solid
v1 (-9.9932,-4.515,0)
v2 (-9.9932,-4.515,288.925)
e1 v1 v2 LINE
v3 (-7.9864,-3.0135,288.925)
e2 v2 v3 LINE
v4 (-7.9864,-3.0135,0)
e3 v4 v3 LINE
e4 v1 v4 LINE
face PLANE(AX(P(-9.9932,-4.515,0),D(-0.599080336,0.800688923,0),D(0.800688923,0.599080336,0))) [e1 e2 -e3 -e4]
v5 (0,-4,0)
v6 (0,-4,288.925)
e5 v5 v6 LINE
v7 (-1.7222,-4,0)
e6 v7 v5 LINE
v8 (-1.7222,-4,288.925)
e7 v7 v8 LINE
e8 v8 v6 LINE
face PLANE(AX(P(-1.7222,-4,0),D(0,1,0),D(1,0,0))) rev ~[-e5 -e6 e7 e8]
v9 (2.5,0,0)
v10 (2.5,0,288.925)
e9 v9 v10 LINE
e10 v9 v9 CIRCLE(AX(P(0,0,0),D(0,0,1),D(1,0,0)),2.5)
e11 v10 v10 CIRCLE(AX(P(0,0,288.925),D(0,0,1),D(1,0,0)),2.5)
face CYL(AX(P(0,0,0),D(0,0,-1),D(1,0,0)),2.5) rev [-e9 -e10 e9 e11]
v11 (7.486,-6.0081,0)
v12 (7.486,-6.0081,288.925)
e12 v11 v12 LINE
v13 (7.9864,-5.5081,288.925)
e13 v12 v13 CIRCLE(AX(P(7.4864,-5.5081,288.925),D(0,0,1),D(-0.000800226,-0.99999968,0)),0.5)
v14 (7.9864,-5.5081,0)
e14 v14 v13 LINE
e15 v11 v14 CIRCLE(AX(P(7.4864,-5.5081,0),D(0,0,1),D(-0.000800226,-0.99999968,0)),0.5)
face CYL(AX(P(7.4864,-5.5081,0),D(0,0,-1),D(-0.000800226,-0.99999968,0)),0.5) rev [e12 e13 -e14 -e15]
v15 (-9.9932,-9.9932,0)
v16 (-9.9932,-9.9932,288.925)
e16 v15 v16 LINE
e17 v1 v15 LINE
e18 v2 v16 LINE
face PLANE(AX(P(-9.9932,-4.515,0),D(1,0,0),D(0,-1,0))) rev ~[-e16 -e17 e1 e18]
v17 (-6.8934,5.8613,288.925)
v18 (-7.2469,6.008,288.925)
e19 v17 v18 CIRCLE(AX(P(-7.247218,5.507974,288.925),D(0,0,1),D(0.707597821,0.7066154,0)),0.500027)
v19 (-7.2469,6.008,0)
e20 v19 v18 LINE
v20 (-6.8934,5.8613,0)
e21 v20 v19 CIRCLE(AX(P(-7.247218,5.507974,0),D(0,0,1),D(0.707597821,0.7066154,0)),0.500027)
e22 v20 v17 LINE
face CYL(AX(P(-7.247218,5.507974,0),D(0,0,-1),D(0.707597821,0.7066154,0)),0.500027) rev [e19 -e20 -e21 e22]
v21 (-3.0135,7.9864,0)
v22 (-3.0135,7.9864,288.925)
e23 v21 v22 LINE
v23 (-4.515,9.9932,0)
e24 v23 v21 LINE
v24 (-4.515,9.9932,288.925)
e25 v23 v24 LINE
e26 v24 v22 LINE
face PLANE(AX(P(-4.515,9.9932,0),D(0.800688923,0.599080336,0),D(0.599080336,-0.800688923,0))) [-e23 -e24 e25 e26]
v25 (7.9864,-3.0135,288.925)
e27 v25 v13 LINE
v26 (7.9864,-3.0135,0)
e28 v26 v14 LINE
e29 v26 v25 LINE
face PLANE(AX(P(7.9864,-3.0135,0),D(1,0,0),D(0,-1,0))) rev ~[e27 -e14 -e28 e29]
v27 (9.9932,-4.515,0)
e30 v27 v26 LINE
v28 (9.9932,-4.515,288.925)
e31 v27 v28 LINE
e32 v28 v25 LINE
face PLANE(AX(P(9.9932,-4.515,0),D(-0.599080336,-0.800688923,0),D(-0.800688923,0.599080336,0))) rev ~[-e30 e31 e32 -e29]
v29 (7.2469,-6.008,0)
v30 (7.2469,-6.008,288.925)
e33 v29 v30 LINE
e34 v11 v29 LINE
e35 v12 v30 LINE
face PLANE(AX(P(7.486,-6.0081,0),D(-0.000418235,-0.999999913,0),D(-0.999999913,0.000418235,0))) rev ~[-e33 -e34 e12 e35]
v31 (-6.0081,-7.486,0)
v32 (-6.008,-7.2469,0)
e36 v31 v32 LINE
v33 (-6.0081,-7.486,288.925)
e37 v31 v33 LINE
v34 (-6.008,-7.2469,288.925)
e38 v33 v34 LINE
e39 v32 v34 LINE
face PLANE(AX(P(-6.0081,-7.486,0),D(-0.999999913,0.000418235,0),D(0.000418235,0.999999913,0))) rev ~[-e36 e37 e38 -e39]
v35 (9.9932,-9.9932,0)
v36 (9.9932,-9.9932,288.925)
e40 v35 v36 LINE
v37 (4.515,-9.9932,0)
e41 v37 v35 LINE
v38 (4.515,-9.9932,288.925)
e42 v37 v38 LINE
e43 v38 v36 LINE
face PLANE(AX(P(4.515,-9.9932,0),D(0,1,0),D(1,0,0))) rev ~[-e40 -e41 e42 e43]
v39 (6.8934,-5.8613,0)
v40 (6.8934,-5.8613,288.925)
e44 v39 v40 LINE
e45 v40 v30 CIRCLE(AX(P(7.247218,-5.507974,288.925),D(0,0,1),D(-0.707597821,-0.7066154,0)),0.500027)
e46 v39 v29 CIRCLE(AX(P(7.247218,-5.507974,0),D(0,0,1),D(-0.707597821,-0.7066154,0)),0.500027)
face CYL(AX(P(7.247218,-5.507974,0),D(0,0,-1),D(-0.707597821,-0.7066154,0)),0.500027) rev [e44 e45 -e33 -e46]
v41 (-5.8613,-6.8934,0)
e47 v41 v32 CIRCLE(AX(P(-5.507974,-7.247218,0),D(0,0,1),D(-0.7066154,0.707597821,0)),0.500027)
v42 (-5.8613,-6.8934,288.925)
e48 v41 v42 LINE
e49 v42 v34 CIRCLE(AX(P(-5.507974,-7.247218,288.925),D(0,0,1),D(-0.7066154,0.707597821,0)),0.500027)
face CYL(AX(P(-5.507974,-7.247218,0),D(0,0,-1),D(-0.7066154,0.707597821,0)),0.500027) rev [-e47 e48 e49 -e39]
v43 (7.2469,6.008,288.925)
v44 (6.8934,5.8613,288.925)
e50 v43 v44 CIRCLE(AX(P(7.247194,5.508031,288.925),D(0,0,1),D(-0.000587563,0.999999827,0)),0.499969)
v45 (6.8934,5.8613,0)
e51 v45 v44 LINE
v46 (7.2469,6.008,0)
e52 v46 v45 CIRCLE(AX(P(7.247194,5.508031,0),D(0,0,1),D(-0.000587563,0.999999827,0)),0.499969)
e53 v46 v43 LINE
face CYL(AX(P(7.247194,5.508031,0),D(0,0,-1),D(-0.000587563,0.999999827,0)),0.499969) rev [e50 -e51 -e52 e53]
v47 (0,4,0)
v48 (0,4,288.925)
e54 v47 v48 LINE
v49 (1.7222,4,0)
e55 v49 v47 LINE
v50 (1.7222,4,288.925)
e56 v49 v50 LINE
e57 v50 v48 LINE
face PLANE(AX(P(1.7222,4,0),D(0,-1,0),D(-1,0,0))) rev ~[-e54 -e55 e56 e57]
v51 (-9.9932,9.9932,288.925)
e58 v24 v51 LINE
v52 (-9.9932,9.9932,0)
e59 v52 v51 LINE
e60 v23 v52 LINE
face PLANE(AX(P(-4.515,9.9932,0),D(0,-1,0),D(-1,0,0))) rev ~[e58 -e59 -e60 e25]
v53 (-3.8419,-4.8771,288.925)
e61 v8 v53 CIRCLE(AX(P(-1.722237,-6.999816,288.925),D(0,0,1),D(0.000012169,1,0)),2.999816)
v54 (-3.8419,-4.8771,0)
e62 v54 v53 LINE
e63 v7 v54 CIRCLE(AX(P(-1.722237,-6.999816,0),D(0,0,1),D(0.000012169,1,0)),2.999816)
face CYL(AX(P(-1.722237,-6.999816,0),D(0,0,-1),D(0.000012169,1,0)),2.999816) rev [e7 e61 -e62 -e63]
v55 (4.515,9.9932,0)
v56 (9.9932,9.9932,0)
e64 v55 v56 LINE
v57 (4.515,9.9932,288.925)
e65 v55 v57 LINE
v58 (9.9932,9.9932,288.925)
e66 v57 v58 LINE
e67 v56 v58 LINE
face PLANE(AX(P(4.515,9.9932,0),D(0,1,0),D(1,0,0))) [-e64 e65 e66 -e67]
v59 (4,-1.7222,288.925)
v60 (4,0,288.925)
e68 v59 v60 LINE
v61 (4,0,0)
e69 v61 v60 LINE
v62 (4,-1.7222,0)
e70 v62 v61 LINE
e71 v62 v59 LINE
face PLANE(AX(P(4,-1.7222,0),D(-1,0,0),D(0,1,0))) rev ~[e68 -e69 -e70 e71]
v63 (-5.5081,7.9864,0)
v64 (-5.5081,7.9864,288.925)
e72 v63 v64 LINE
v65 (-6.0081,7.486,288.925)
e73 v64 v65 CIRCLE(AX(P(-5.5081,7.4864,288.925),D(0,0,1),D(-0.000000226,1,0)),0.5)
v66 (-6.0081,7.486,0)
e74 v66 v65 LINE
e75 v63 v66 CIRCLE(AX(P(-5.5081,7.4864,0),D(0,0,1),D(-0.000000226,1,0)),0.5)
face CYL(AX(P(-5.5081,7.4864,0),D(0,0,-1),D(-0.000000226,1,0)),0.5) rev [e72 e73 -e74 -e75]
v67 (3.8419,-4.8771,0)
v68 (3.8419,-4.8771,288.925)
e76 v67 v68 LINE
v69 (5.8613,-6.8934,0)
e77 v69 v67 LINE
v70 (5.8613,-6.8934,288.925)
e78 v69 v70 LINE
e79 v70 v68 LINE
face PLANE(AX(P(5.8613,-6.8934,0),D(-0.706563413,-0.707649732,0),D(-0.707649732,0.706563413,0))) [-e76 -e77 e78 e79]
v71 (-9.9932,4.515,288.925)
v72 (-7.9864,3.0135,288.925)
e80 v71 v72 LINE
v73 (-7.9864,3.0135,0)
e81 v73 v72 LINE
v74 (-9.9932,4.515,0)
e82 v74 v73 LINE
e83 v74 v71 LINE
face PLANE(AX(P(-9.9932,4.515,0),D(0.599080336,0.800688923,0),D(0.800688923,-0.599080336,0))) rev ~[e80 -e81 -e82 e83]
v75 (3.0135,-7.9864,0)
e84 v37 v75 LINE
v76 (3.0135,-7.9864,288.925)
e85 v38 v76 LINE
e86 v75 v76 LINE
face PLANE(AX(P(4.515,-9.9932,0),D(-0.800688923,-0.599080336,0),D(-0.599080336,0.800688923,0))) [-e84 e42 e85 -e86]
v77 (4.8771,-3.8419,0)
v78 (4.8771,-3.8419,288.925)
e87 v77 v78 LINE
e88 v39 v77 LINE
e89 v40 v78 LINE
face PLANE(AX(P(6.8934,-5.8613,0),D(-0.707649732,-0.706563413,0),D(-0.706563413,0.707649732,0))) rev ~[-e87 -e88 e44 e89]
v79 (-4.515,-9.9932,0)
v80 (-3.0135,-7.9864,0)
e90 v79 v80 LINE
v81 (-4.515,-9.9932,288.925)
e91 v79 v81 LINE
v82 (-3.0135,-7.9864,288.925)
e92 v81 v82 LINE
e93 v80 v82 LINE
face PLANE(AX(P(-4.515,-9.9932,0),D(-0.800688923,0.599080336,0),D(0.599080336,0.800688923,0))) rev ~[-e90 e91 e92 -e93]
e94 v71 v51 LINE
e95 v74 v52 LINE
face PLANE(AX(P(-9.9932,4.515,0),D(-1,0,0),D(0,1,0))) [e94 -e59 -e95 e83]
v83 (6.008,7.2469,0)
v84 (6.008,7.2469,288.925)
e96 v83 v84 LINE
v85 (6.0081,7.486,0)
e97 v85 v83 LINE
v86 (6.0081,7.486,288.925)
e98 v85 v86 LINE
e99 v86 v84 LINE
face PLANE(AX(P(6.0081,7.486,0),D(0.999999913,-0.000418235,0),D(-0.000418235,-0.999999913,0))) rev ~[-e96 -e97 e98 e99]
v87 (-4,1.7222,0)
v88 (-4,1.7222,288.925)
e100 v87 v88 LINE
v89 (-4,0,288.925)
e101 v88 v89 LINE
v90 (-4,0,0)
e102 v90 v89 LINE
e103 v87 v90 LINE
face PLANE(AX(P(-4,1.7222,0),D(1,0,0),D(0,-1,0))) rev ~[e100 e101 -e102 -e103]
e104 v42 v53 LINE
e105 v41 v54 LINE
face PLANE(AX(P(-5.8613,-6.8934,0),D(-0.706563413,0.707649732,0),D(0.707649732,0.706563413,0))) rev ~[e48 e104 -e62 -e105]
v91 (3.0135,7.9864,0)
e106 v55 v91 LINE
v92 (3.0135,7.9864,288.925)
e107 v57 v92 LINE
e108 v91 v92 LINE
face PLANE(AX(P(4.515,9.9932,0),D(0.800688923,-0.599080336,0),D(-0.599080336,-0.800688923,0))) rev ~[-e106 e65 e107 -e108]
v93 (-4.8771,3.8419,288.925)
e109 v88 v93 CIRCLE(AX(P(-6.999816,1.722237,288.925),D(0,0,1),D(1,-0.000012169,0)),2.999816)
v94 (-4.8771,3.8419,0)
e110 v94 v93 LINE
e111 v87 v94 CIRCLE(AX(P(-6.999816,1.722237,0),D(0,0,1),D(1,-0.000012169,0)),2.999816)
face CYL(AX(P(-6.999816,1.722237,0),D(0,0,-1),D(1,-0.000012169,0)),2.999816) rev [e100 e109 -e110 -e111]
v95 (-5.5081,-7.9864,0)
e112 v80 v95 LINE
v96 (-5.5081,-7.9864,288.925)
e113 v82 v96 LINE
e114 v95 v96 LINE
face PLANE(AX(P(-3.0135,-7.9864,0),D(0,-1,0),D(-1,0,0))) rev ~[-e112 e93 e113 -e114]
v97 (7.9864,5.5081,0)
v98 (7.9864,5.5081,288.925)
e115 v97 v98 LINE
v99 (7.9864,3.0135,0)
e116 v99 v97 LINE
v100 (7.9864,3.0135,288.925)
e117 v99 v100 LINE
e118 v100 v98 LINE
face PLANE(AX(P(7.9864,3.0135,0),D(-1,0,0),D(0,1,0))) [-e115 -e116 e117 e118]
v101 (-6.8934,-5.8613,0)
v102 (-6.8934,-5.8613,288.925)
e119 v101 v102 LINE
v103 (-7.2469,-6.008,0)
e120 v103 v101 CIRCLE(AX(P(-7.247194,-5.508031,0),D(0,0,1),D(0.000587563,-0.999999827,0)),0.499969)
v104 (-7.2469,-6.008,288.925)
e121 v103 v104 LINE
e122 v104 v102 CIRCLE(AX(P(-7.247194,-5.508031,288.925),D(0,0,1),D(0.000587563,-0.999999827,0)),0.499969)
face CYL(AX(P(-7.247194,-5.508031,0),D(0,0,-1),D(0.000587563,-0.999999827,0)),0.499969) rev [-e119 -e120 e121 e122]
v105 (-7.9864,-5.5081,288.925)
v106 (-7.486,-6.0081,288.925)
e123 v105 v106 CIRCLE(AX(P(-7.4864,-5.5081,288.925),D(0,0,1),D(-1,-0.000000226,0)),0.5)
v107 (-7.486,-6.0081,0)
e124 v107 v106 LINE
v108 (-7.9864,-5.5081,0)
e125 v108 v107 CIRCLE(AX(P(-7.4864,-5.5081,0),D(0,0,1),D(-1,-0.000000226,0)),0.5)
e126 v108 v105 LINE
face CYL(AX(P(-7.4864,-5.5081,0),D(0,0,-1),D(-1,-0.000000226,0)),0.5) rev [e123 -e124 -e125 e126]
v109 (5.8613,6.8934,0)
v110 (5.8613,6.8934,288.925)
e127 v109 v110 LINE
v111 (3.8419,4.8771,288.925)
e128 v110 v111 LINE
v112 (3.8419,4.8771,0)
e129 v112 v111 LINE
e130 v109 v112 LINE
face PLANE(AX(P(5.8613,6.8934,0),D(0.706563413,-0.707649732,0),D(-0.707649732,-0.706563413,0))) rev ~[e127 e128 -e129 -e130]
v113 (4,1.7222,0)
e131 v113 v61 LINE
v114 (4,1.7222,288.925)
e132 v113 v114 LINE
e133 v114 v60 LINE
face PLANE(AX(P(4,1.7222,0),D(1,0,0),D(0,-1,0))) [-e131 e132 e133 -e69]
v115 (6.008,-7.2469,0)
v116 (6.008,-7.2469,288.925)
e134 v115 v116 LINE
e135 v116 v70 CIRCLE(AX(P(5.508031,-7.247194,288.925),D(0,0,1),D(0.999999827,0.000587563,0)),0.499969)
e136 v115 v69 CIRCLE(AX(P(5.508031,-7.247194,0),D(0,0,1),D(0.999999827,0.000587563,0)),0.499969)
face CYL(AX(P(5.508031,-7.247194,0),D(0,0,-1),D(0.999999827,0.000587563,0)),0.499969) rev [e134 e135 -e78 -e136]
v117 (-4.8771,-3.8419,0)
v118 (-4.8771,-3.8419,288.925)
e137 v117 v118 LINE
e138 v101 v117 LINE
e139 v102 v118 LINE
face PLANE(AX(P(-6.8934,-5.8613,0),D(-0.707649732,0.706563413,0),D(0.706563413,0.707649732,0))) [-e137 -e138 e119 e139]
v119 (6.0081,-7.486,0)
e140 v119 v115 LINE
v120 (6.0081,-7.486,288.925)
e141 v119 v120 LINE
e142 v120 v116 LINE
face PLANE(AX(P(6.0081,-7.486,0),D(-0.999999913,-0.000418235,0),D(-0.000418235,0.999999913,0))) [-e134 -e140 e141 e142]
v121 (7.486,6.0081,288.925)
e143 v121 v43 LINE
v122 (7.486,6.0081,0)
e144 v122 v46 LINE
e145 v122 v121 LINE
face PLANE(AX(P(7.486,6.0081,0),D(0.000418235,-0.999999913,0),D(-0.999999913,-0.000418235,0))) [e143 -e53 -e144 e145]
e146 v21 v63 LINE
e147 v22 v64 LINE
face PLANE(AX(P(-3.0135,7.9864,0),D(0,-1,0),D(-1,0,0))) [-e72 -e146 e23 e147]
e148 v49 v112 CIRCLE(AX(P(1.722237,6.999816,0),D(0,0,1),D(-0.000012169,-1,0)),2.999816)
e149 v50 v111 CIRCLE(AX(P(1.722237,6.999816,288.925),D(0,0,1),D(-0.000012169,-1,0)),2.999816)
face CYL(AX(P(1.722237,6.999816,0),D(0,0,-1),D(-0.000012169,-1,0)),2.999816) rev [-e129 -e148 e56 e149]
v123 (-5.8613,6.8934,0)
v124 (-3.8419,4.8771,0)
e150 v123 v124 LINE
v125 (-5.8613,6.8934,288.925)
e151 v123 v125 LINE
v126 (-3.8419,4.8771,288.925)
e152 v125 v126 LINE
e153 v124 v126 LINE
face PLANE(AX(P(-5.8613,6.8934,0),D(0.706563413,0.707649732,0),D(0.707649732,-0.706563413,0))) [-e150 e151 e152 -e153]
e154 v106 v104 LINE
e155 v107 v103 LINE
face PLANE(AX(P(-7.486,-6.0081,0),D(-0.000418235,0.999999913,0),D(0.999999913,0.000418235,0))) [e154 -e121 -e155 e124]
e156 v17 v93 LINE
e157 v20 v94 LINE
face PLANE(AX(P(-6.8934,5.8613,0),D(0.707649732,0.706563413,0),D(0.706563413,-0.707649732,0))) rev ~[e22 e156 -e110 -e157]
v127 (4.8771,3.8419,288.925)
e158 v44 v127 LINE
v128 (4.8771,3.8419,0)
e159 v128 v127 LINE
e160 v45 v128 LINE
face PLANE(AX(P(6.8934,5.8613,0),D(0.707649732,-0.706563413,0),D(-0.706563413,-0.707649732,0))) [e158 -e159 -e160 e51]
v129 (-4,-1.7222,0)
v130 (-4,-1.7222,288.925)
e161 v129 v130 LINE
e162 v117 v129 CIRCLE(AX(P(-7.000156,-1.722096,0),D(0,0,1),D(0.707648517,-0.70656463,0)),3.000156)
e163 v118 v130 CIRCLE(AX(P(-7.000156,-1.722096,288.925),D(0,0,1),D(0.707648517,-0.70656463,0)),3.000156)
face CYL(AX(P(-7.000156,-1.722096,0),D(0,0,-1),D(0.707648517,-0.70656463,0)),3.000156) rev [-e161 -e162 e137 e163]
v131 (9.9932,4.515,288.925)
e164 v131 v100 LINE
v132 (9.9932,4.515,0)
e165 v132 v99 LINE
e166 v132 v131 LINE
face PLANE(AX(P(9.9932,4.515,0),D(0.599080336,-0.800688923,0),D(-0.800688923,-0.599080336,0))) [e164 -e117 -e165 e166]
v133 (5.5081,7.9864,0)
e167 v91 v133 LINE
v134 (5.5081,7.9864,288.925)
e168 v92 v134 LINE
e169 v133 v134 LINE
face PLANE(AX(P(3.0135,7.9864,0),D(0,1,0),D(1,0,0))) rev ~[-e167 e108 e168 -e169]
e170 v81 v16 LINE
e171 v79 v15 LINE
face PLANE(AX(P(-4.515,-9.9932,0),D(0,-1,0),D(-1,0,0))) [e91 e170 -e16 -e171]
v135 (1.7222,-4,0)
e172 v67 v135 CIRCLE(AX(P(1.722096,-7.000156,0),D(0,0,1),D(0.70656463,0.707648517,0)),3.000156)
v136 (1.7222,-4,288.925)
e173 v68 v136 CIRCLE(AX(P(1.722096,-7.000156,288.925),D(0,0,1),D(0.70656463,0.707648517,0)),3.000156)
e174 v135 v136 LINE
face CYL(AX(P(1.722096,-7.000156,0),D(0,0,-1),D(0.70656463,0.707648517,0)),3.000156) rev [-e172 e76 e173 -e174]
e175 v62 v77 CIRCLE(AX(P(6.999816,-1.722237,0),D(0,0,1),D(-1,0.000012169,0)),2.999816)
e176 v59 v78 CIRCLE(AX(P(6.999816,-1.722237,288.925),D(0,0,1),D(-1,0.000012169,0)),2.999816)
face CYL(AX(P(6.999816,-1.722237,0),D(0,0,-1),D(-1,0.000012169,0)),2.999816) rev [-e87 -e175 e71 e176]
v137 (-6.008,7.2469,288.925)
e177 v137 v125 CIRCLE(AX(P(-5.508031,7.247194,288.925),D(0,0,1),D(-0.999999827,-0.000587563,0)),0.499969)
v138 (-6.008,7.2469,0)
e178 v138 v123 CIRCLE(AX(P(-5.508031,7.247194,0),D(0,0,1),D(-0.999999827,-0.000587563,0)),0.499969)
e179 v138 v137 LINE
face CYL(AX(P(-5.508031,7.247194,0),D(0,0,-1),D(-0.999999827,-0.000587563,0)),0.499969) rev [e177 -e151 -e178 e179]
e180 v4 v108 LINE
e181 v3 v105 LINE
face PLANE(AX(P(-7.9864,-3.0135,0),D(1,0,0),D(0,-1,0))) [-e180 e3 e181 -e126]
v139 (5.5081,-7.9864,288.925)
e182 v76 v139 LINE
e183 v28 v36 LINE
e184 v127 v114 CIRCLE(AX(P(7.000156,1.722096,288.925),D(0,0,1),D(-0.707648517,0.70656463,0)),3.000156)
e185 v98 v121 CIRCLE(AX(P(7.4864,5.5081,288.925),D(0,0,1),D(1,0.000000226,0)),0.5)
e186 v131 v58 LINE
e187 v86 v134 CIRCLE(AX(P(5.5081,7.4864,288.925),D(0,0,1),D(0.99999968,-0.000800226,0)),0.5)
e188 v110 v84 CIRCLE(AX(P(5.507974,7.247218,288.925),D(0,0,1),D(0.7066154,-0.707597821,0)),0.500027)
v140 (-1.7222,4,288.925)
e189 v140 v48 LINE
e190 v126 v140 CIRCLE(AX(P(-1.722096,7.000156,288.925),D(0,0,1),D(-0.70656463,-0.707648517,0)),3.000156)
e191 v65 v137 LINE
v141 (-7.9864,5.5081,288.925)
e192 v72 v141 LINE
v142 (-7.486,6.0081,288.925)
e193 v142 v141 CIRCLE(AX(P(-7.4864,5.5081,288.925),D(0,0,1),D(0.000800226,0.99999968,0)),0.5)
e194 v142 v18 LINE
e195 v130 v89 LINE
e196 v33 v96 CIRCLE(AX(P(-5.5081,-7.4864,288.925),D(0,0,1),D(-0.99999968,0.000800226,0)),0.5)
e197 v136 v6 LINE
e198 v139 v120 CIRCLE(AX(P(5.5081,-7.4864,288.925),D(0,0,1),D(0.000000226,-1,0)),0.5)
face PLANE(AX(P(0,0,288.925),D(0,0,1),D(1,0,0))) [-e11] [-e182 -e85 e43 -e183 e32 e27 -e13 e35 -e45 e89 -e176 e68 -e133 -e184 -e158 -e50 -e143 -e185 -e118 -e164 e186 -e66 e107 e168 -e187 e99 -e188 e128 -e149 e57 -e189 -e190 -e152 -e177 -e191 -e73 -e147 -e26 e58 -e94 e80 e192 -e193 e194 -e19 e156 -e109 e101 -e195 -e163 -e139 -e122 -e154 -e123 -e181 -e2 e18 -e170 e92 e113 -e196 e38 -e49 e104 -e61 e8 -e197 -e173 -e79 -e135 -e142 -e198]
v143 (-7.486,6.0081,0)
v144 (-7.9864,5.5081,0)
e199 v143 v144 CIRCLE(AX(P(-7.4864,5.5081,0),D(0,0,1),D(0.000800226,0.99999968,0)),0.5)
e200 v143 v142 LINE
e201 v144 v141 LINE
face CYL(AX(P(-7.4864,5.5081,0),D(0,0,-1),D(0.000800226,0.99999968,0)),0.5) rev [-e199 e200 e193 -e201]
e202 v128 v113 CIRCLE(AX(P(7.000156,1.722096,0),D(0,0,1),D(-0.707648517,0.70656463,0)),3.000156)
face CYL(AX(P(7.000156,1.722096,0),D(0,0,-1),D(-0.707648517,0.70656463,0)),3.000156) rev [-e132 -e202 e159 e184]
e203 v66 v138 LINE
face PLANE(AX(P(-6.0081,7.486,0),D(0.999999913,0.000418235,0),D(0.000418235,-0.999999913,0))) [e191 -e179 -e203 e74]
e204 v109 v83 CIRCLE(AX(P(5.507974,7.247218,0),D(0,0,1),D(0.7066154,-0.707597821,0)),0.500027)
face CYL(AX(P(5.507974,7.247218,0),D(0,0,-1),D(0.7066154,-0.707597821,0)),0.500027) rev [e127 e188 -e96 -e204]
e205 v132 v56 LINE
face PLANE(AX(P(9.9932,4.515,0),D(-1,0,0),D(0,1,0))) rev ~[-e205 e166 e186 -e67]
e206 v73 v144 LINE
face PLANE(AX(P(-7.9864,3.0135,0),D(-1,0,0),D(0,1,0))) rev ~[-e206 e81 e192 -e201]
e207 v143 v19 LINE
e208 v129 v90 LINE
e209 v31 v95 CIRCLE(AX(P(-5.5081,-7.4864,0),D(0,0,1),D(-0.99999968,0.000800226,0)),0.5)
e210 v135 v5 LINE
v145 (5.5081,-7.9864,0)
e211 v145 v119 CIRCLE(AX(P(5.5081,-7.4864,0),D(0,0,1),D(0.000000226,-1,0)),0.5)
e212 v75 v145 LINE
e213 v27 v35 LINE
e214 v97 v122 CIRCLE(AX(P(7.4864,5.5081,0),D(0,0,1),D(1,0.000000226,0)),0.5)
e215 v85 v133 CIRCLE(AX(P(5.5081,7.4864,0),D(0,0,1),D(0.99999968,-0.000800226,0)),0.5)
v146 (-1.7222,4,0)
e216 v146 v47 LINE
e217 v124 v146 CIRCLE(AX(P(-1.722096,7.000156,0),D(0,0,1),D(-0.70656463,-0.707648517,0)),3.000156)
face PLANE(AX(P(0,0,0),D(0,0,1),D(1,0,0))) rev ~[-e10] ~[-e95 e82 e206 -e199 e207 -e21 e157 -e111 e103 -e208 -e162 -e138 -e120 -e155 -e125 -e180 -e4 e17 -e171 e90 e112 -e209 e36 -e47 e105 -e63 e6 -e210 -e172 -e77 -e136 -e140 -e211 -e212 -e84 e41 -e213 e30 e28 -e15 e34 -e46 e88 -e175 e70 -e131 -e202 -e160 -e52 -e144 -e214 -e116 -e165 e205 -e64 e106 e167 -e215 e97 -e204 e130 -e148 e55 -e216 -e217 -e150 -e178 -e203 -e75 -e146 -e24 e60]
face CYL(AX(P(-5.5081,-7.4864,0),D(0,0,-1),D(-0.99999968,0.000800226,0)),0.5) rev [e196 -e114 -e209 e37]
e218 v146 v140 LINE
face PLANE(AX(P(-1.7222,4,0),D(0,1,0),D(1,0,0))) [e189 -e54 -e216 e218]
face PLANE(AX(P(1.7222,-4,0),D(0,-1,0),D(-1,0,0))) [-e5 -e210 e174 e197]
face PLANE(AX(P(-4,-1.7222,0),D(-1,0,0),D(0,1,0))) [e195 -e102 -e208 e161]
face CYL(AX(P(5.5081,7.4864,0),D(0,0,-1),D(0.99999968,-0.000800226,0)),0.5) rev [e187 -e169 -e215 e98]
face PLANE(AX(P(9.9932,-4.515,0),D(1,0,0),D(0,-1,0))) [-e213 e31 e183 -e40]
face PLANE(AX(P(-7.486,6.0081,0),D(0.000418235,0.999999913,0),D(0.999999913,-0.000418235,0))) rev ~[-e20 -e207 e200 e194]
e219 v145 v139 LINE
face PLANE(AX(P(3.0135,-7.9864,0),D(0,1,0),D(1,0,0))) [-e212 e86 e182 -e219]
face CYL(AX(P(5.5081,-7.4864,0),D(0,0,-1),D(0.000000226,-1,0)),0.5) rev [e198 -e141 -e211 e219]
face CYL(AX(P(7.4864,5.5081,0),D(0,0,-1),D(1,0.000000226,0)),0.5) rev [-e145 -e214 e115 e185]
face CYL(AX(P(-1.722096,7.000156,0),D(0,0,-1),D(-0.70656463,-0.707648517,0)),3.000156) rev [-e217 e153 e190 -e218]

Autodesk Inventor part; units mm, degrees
ref_plane "YZ Plane" through (0, 0, 0) normal (1, 0, 0) x (0, 1, 0)
ref_plane "XZ Plane" through (0, 0, 0) normal (0, 1, 0) x (-1, 0, 0)
ref_plane "XY Plane" through (0, 0, 0) normal (0, 0, 1) x (1, 0, 0)
sketch "Sketch1" plane through (0, 0, 0) normal (0, 0, 1) x (1, 0, 0)
  circle A0 centre (0, 0) radius 2.5
  line L0 (-9.9932, 4.515) -> (-7.9864, 3.0135)
  line L1 (-7.486, 6.0081) -> (-7.2469, 6.008)
  line L2 (-6.8934, 5.8613) -> (-4.8771, 3.8419)
  arc A1 (-6.8934, 5.8613) -> (-7.2469, 6.008) centre (-7.2472, 5.508) ccw
  circle A2 centre (0, 0) radius 2.5
  line L3 (-9.9932, 4.515) -> (-9.9932, 9.9932)
  line L4 (-7.9864, 3.0135) -> (-7.9864, 5.5081)
  arc A3 (-7.486, 6.0081) -> (-7.9864, 5.5081) centre (-7.4864, 5.5081) ccw
  line L5 (-4, 1.7222) -> (-4, 0)
  line L6 (-9.9932, -4.515) -> (-7.9864, -3.0135)
  line L7 (-6.8934, -5.8613) -> (-4.8771, -3.8419)
  arc A4 (-7.2469, -6.008) -> (-6.8934, -5.8613) centre (-7.2472, -5.508) ccw
  line L8 (-7.486, -6.0081) -> (-7.2469, -6.008)
  line L9 (-9.9932, -4.515) -> (-9.9932, -9.9932)
  line L10 (-7.9864, -3.0135) -> (-7.9864, -5.5081)
  arc A5 (-7.9864, -5.5081) -> (-7.486, -6.0081) centre (-7.4864, -5.5081) ccw
  line L11 (-4, -1.7222) -> (-4, 0)
  line L12 (9.9932, 4.515) -> (7.9864, 3.0135)
  line L13 (6.8934, 5.8613) -> (4.8771, 3.8419)
  arc A6 (7.2469, 6.008) -> (6.8934, 5.8613) centre (7.2472, 5.508) ccw
  line L14 (7.486, 6.0081) -> (7.2469, 6.008)
  line L15 (9.9932, 4.515) -> (9.9932, 9.9932)
  line L16 (7.9864, 3.0135) -> (7.9864, 5.5081)
  arc A7 (7.9864, 5.5081) -> (7.486, 6.0081) centre (7.4864, 5.5081) ccw
  line L17 (4, 1.7222) -> (4, 0)
  line L18 (9.9932, -4.515) -> (7.9864, -3.0135)
  line L19 (6.8934, -5.8613) -> (4.8771, -3.8419)
  arc A8 (6.8934, -5.8613) -> (7.2469, -6.008) centre (7.2472, -5.508) ccw
  line L20 (7.486, -6.0081) -> (7.2469, -6.008)
  line L21 (9.9932, -4.515) -> (9.9932, -9.9932)
  line L22 (7.9864, -3.0135) -> (7.9864, -5.5081)
  arc A9 (7.486, -6.0081) -> (7.9864, -5.5081) centre (7.4864, -5.5081) ccw
  line L23 (4, -1.7222) -> (4, 0)
  circle A10 centre (0, 0) radius 2.5
  line L24 (-4.515, -9.9932) -> (-3.0135, -7.9864)
  line L25 (-5.8613, -6.8934) -> (-3.8419, -4.8771)
  arc A11 (-5.8613, -6.8934) -> (-6.008, -7.2469) centre (-5.508, -7.2472) ccw
  line L26 (-6.0081, -7.486) -> (-6.008, -7.2469)
  circle A12 centre (0, 0) radius 2.5
  line L27 (-4.515, -9.9932) -> (-9.9932, -9.9932)
  line L28 (-3.0135, -7.9864) -> (-5.5081, -7.9864)
  arc A13 (-6.0081, -7.486) -> (-5.5081, -7.9864) centre (-5.5081, -7.4864) ccw
  line L29 (-1.7222, -4) -> (0, -4)
  line L30 (4.515, -9.9932) -> (3.0135, -7.9864)
  line L31 (5.8613, -6.8934) -> (3.8419, -4.8771)
  arc A14 (6.008, -7.2469) -> (5.8613, -6.8934) centre (5.508, -7.2472) ccw
  line L32 (6.0081, -7.486) -> (6.008, -7.2469)
  line L33 (4.515, -9.9932) -> (9.9932, -9.9932)
  line L34 (3.0135, -7.9864) -> (5.5081, -7.9864)
  arc A15 (5.5081, -7.9864) -> (6.0081, -7.486) centre (5.5081, -7.4864) ccw
  line L35 (1.7222, -4) -> (0, -4)
  line L36 (-1.7222, 4) -> (0, 4)
  line L37 (1.7222, 4) -> (0, 4)
  line L38 (5.8613, 6.8934) -> (3.8419, 4.8771)
  arc A16 (5.8613, 6.8934) -> (6.008, 7.2469) centre (5.508, 7.2472) ccw
  line L39 (6.0081, 7.486) -> (6.008, 7.2469)
  line L40 (3.0135, 7.9864) -> (5.5081, 7.9864)
  arc A17 (6.0081, 7.486) -> (5.5081, 7.9864) centre (5.5081, 7.4864) ccw
  line L41 (4.515, 9.9932) -> (3.0135, 7.9864)
  line L42 (4.515, 9.9932) -> (9.9932, 9.9932)
  line L43 (-5.8613, 6.8934) -> (-3.8419, 4.8771)
  arc A18 (-6.008, 7.2469) -> (-5.8613, 6.8934) centre (-5.508, 7.2472) ccw
  line L44 (-6.0081, 7.486) -> (-6.008, 7.2469)
  line L45 (-3.0135, 7.9864) -> (-5.5081, 7.9864)
  arc A19 (-5.5081, 7.9864) -> (-6.0081, 7.486) centre (-5.5081, 7.4864) ccw
  line L46 (-4.515, 9.9932) -> (-3.0135, 7.9864)
  line L47 (-4.515, 9.9932) -> (-9.9932, 9.9932)
  arc A20 (1.7222, 4) -> (3.8419, 4.8771) centre (1.7222, 7) ccw
  arc A21 (-3.8419, 4.8771) -> (-1.7222, 4) centre (-1.7222, 7) ccw
  arc A22 (-4, 1.7222) -> (-4.8771, 3.8419) centre (-7, 1.7222) ccw
  arc A23 (-4.8771, -3.8419) -> (-4, -1.7222) centre (-7, -1.7222) ccw
  arc A24 (-1.7222, -4) -> (-3.8419, -4.8771) centre (-1.7222, -7) ccw
  arc A25 (3.8419, -4.8771) -> (1.7222, -4) centre (1.7222, -7) ccw
  arc A26 (4, -1.7222) -> (4.8771, -3.8419) centre (7, -1.7222) ccw
  arc A27 (4.8771, 3.8419) -> (4, 1.7222) centre (7, 1.7222) ccw
  point P0 (-7.9864, 6.0085)
  point P1 (-7.9864, -6.0085)
  point P2 (7.9864, 6.0085)
  point P3 (7.9864, -6.0085)
  point P4 (-6.0085, -7.9864)
  point P5 (6.0085, -7.9864)
  point P6 (6.0085, 7.9864)
  point P7 (-6.0085, 7.9864)
extrude "Extrusion9" add sketch "Sketch1" along normal blind 288.925
properties part number "20mm_V-Rail_Extrusion Template" material "6105-T5 Aluminum"
